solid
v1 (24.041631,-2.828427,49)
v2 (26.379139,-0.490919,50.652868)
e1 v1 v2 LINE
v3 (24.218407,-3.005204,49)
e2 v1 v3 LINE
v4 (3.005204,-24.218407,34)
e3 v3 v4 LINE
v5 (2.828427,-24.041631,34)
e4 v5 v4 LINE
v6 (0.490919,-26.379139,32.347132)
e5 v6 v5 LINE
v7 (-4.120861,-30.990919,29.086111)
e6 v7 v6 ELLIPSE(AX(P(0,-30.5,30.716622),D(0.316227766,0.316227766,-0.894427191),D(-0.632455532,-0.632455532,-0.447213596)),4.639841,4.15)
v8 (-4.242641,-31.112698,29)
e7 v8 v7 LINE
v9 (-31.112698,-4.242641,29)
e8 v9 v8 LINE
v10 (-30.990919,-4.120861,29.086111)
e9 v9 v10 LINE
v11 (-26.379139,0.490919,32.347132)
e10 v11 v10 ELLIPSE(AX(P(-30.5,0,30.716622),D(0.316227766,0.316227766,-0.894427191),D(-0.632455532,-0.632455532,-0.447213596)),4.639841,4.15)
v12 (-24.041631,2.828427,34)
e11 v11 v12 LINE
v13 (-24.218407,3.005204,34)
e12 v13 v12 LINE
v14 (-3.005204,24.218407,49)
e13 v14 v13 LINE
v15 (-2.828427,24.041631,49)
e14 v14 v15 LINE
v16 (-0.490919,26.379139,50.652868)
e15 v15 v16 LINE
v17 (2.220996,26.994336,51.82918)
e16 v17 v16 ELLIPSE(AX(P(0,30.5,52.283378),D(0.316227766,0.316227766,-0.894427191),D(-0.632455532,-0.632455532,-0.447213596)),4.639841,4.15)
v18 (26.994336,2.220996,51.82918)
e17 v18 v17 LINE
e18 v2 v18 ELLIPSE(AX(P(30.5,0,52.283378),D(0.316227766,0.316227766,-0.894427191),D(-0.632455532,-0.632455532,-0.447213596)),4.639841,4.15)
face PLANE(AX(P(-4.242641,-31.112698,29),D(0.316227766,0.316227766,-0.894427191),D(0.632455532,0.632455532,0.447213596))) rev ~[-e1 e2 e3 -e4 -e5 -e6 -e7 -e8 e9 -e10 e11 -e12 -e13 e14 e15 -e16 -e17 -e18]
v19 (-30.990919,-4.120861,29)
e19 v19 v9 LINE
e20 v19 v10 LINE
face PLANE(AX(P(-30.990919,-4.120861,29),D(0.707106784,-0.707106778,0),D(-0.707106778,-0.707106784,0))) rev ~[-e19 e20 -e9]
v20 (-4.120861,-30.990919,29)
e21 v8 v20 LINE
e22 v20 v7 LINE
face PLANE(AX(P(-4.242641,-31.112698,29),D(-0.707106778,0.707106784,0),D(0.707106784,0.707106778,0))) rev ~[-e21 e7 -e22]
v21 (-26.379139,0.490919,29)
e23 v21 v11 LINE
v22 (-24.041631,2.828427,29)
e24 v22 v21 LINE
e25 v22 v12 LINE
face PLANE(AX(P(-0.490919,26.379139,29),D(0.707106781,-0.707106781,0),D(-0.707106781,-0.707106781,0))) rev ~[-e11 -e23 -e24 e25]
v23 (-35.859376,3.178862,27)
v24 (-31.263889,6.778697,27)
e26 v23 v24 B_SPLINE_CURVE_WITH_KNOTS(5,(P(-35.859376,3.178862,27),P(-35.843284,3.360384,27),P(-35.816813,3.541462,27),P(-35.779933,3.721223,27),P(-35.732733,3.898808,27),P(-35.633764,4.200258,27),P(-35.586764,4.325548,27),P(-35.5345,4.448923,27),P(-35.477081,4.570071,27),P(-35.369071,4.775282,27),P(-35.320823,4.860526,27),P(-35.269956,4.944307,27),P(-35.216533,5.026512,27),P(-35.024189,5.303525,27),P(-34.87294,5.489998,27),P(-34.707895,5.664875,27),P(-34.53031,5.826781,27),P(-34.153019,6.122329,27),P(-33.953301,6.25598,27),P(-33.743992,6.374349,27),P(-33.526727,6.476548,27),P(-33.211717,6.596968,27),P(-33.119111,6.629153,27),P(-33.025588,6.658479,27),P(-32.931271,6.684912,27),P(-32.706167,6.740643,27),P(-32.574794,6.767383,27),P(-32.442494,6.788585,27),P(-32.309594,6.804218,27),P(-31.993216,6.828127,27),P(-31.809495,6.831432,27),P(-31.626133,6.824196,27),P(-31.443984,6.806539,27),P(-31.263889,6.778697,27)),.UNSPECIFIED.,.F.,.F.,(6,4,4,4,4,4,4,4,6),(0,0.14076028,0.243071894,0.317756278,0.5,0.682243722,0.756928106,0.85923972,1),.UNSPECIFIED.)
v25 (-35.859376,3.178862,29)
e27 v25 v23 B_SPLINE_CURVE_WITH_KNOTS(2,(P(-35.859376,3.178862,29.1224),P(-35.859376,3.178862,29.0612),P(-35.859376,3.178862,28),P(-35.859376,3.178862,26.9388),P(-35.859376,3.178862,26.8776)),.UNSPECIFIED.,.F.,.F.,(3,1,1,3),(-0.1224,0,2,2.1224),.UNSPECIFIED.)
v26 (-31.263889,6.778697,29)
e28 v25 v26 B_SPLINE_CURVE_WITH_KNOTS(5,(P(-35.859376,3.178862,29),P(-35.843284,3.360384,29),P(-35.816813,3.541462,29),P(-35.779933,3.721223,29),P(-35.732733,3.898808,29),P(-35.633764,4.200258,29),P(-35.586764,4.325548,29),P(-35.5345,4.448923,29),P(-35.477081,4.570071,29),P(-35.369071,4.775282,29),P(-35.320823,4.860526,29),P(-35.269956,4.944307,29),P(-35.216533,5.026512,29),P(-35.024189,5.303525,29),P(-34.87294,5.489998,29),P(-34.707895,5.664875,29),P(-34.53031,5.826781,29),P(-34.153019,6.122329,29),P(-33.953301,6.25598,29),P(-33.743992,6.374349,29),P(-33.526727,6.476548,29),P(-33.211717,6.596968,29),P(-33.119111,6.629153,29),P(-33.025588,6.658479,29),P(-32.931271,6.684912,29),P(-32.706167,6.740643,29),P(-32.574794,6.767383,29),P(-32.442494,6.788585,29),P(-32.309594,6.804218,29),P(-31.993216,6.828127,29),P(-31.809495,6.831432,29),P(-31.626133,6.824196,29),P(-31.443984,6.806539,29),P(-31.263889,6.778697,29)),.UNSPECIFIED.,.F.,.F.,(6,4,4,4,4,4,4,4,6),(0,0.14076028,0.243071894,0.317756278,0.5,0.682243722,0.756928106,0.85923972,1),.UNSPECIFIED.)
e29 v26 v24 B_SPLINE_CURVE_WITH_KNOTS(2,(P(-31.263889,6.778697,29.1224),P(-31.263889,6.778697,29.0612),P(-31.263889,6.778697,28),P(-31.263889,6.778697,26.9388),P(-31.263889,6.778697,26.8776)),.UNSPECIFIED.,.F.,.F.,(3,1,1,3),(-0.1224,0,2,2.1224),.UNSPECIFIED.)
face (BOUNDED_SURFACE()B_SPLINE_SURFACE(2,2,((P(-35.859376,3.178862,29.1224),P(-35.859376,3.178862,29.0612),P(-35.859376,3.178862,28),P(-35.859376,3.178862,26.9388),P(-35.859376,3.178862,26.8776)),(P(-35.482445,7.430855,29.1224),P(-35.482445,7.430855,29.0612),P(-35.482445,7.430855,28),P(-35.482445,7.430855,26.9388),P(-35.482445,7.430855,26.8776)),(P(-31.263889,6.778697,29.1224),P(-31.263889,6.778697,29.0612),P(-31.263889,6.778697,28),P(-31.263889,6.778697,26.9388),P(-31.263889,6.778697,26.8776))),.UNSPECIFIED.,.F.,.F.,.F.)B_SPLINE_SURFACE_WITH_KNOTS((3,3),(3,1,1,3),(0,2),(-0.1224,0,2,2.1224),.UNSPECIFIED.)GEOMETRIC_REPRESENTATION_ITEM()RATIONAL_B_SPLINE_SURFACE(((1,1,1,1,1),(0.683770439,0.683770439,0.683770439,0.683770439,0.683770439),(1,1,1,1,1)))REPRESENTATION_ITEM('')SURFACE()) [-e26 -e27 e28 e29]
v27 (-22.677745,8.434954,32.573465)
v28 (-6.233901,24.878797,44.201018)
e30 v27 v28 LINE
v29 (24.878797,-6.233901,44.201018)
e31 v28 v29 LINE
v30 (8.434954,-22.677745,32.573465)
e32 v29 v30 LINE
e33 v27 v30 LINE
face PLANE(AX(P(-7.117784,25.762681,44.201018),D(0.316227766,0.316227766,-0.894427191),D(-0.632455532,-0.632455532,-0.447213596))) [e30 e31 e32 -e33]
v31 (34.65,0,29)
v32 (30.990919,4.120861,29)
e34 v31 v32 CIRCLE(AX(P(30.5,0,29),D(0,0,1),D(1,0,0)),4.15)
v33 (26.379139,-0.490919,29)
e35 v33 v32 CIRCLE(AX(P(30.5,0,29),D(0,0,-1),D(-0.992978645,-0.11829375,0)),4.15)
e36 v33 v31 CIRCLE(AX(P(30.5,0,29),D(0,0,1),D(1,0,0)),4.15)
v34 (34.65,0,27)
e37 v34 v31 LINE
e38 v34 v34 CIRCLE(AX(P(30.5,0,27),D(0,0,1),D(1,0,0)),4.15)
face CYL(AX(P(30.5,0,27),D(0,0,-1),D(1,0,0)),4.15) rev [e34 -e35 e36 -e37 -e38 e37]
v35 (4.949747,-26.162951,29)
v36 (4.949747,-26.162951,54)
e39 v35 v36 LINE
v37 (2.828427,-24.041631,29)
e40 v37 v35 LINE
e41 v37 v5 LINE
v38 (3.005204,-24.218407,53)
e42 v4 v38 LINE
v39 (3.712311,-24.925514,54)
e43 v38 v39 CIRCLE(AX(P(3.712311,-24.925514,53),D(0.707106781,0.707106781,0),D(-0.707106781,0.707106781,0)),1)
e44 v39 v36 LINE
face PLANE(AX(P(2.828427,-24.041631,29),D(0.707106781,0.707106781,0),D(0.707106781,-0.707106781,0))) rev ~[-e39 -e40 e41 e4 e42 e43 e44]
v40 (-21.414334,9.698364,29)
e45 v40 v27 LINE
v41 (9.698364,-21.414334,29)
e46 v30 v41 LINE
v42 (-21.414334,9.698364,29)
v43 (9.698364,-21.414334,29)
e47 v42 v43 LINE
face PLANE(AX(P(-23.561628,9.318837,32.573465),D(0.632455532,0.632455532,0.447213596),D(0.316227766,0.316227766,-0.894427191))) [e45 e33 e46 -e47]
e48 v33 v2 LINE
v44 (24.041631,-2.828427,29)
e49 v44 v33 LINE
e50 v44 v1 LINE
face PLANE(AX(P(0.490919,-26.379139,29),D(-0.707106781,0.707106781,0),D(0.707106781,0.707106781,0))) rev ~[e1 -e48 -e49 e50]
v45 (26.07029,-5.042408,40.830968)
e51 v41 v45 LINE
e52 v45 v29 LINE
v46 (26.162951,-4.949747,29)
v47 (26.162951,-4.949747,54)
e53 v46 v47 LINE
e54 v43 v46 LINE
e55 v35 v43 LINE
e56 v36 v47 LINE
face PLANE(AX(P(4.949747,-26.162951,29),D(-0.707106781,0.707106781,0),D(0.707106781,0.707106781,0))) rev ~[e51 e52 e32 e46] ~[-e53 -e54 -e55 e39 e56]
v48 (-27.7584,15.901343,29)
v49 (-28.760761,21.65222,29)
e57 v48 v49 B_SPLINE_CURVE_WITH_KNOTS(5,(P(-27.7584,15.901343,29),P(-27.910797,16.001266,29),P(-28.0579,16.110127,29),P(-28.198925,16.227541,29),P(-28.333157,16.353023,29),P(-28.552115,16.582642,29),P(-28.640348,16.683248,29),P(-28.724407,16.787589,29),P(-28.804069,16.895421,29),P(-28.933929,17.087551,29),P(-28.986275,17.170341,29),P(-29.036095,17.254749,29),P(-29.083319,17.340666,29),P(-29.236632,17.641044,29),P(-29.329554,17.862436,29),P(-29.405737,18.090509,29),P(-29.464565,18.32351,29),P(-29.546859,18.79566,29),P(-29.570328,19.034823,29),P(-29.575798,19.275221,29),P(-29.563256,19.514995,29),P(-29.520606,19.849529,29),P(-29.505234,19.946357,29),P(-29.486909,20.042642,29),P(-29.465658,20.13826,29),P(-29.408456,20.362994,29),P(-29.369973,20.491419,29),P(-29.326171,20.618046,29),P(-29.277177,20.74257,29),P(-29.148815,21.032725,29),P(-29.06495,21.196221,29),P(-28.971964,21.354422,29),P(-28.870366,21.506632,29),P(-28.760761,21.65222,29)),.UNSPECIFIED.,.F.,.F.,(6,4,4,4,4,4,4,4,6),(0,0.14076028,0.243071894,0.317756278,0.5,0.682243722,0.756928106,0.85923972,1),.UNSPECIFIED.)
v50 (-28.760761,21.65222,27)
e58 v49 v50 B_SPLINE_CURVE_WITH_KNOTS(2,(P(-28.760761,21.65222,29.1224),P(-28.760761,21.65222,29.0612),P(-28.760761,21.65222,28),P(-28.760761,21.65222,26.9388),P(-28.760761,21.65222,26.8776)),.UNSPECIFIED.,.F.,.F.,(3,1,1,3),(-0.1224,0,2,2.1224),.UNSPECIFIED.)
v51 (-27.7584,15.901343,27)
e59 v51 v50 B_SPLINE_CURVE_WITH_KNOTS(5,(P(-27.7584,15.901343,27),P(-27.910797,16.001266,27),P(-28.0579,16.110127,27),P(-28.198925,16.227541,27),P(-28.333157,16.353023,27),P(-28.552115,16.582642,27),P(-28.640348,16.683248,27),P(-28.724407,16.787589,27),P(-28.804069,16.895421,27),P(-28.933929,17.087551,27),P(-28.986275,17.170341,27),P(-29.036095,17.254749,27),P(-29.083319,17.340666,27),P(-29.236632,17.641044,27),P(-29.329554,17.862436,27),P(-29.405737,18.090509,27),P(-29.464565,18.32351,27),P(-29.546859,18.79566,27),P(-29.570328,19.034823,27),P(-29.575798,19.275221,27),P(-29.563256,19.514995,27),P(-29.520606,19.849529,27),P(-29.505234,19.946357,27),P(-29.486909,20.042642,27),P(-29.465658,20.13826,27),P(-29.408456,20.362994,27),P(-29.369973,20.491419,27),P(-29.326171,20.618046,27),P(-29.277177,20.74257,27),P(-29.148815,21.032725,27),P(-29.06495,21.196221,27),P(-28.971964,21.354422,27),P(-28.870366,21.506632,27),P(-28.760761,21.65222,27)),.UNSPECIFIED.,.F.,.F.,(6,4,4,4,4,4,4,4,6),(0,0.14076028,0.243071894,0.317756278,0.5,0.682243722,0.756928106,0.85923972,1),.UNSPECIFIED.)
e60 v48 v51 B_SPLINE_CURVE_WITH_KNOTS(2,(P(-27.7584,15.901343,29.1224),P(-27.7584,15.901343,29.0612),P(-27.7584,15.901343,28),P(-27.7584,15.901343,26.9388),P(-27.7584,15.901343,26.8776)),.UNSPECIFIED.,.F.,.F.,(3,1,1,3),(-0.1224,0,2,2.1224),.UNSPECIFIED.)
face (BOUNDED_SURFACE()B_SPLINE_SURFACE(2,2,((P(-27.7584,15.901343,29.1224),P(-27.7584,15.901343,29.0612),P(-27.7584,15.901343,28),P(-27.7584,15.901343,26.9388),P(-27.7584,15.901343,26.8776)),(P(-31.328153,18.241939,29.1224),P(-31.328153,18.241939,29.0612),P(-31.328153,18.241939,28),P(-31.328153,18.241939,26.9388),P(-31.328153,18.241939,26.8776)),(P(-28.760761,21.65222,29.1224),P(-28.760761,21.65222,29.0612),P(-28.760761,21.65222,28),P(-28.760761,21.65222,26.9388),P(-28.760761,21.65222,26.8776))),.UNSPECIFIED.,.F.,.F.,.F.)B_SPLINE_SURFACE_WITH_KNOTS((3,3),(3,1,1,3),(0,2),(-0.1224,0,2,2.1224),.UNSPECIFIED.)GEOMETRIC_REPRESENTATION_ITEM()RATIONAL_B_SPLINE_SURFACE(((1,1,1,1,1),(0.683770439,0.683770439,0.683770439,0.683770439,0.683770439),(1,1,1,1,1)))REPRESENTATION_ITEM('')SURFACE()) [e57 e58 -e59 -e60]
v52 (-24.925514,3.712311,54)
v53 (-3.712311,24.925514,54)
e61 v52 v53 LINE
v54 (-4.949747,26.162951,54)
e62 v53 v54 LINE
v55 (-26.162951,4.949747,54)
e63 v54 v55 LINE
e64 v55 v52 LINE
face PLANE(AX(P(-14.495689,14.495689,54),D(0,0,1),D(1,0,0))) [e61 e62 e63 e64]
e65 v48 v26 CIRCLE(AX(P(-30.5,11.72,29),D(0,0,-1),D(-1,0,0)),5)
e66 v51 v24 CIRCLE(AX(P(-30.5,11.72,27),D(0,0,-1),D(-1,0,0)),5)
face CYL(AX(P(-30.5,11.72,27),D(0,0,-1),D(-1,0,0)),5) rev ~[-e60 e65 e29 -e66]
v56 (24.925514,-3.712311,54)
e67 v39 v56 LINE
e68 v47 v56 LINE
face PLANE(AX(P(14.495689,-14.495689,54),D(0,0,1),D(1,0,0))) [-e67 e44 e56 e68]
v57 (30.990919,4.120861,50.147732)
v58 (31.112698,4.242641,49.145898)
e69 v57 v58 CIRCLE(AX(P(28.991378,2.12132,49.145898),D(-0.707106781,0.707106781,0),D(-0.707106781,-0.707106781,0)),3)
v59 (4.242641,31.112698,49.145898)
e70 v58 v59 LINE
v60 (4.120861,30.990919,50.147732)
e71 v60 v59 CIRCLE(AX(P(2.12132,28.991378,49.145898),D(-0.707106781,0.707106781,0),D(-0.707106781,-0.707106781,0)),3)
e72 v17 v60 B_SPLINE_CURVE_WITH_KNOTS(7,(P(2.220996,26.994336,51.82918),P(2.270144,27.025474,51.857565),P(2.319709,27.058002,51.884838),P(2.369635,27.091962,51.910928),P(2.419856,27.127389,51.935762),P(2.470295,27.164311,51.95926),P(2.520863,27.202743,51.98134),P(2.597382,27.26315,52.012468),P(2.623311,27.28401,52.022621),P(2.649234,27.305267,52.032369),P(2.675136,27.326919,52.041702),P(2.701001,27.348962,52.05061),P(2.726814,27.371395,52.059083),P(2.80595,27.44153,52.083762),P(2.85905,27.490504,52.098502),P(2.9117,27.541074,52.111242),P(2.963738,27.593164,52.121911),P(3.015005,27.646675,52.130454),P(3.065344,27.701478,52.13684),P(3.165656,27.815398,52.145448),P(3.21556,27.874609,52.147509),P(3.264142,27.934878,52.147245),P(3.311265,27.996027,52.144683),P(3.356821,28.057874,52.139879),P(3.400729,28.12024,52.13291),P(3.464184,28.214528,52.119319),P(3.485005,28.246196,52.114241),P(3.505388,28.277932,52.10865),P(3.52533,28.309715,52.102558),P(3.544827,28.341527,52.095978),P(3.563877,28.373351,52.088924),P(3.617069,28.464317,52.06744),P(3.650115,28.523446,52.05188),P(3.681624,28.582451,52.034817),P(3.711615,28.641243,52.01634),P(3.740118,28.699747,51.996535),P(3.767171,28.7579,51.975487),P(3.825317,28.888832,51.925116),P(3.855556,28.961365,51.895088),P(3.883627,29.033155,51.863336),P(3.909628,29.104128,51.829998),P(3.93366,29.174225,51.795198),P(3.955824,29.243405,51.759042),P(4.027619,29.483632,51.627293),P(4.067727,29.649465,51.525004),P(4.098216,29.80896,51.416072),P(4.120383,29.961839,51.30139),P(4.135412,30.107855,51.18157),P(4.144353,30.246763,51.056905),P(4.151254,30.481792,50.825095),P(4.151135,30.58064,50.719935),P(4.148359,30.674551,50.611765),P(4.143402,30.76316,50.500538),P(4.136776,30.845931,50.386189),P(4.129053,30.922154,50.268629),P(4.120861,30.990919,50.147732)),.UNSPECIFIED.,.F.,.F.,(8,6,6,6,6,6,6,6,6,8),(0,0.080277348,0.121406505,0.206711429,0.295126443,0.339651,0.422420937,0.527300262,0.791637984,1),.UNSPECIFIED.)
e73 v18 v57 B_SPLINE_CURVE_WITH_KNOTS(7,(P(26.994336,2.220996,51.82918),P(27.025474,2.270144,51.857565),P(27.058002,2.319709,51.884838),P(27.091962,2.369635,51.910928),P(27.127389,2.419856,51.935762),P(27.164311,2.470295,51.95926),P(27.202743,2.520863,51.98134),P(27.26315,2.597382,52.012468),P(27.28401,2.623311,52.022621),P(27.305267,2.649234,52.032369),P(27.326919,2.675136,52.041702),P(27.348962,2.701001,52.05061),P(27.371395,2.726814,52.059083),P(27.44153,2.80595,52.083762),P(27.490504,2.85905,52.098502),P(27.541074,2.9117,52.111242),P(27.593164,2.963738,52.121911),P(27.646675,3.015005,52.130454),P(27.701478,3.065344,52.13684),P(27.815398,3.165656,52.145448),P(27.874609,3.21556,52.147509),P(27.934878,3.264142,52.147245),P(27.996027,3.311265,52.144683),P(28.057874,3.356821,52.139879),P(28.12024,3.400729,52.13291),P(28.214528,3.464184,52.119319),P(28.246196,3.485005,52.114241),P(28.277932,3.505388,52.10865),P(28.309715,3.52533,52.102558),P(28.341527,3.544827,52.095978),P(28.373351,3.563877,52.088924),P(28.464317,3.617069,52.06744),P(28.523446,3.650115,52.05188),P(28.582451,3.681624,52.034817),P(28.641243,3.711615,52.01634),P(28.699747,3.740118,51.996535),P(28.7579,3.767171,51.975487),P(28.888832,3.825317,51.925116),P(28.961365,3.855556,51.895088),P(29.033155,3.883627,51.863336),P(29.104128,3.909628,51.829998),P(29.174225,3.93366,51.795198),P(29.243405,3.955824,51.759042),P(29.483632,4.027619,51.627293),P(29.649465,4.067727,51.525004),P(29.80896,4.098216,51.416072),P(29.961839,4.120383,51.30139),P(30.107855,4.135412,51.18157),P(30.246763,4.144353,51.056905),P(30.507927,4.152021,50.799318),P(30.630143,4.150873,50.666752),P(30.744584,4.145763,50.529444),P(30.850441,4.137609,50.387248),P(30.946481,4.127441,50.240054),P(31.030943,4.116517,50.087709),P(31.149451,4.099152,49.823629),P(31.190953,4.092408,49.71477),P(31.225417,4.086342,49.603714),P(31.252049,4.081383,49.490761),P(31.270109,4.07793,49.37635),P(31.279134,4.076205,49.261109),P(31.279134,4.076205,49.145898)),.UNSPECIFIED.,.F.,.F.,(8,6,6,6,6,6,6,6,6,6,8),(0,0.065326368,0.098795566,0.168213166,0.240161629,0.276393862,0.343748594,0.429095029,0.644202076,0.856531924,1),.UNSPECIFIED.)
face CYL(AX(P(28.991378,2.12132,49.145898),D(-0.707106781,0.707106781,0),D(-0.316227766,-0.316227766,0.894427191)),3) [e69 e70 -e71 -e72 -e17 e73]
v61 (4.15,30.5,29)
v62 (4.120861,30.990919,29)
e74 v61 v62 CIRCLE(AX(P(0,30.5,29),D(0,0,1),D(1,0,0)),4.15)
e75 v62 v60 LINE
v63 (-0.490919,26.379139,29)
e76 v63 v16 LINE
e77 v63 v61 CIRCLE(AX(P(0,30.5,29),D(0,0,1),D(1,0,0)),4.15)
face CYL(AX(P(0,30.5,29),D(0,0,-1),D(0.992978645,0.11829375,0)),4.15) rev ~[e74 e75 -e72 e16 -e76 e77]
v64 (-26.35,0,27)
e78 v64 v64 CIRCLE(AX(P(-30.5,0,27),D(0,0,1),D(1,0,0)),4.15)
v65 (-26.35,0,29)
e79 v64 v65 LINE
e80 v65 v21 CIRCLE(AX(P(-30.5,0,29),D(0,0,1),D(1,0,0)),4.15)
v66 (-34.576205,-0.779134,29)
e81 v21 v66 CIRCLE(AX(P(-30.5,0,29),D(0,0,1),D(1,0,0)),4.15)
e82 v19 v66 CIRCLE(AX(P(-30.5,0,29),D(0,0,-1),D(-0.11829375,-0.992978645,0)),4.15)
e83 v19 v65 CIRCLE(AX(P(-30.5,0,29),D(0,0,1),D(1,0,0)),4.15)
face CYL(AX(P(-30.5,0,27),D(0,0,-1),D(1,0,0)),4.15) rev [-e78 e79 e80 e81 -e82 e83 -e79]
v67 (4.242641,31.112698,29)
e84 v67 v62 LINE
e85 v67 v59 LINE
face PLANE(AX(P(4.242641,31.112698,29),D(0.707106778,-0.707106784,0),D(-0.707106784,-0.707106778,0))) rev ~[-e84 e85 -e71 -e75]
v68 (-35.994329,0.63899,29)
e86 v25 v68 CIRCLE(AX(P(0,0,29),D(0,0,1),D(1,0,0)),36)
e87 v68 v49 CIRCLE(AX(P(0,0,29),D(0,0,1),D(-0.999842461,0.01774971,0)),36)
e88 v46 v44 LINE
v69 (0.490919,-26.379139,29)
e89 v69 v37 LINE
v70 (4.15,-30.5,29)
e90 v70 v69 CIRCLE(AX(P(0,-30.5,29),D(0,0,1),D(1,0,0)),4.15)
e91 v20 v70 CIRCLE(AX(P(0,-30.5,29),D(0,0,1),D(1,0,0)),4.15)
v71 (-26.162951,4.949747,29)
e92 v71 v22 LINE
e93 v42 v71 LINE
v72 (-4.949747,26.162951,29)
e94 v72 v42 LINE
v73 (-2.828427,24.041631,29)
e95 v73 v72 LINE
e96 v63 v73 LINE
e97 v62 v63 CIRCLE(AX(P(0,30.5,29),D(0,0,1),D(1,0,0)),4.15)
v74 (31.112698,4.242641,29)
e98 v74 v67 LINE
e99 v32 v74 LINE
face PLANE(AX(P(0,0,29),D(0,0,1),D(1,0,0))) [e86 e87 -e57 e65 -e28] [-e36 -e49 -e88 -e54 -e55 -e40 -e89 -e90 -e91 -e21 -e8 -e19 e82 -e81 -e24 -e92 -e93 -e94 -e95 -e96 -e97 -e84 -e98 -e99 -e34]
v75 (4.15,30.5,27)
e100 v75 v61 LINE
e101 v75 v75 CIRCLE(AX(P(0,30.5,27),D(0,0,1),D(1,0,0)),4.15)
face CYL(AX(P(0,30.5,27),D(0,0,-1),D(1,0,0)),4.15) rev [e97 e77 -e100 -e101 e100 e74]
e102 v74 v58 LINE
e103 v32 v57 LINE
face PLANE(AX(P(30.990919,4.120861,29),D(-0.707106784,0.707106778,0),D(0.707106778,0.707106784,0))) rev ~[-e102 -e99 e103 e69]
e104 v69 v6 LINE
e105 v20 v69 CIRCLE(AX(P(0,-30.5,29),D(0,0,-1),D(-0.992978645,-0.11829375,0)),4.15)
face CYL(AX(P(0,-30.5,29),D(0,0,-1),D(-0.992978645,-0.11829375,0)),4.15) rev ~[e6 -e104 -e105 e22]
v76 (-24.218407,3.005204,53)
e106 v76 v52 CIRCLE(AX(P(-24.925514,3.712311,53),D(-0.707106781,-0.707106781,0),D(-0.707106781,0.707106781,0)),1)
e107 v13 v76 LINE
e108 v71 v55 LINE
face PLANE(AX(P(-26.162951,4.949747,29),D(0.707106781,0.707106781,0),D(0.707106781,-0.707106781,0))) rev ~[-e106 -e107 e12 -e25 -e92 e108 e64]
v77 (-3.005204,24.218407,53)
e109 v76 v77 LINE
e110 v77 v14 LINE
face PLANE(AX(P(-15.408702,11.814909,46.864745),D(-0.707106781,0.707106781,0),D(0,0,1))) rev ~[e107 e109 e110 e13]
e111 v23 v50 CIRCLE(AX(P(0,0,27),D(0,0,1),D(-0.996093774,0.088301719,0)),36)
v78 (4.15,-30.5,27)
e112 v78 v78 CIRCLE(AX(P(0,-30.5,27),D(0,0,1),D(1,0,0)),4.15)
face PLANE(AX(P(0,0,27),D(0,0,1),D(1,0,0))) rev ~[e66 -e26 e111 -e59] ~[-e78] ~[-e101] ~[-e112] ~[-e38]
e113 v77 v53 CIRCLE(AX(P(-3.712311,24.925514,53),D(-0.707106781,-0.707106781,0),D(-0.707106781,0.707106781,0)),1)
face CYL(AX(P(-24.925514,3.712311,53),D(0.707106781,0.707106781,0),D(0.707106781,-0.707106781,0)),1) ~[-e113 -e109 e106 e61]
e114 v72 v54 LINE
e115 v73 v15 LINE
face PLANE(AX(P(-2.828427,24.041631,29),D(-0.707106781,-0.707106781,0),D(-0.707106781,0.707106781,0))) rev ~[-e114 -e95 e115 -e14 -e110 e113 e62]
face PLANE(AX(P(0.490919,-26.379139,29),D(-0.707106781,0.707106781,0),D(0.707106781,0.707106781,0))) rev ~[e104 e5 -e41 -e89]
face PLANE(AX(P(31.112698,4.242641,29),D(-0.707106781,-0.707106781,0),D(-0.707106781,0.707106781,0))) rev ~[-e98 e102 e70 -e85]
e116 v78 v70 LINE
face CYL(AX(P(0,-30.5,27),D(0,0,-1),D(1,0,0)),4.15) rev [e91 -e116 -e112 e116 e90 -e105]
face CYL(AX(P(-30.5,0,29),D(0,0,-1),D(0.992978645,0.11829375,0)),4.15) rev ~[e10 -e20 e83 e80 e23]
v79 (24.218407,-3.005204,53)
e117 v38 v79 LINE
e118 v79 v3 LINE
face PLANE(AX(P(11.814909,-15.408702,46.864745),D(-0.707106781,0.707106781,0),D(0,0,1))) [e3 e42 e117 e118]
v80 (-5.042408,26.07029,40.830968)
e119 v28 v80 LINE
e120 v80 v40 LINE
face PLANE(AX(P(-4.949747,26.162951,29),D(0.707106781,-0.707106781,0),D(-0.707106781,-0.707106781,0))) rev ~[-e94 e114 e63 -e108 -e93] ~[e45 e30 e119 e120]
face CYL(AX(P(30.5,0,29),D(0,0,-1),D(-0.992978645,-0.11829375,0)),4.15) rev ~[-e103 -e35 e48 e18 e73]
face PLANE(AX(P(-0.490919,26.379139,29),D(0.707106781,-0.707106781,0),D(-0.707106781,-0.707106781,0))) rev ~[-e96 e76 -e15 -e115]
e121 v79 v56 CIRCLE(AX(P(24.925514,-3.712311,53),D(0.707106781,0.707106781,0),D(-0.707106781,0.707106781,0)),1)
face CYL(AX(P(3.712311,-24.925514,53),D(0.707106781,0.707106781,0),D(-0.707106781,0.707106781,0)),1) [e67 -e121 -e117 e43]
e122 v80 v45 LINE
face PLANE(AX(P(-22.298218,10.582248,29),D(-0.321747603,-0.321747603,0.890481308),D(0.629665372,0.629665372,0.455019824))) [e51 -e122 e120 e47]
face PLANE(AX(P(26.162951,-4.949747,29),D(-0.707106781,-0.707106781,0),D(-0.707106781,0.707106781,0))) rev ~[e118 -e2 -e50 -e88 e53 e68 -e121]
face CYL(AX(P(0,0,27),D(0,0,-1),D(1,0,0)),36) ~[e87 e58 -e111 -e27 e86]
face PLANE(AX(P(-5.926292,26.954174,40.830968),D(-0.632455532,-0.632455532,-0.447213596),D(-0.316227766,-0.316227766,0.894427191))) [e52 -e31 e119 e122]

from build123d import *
from build123d.topology import SkipClean

# Parameters (mm, degrees)
SKETCH_1_R               = 36
SKETCH_1_R_2             = 4.15
EXTRUDE_1_DEPTH          = 2
SKETCH_2_W               = 45
SKETCH_2_H               = 45
EXTRUDE_2_DEPTH          = 25
SKETCH_3_R               = 36
SKETCH_3_R_2             = 4.15
EXTRUDE_3_DEPTH          = 2
EXTRUDE_4_DEPTH          = 25
CUT_EXTRUDE_1_DEPTH      = 50
EXTRUDE_6_DEPTH          = 25
CUT_EXTRUDE_3_DEPTH      = 38.25
CUT_EXTRUDE_3_DEPTH_BACK = 0.25
CUT_EXTRUDE_4_DEPTH      = 50
CUT_EXTRUDE_4_DEPTH_BACK = 4
SKETCH_20_W              = 45
SKETCH_20_H              = 45
EXTRUDE_7_DEPTH          = 13
FILLET_1_R               = 3
FILLET_2_R               = 1
SKETCH_22_R              = 36
CUT_EXTRUDE_6_DEPTH      = 40
SKETCH_24_R              = 5
CUT_EXTRUDE_7_DEPTH      = 2
FILLET_3_R               = 4


with BuildPart() as part:
    # 草图1 → 凸台-拉伸1 (new body)
    with BuildSketch(Plane.XY):
        Circle(SKETCH_1_R)
        with Locations((30.5, 0)):
            Circle(SKETCH_1_R_2, mode=Mode.SUBTRACT)
        with Locations((0, -30.5)):
            Circle(SKETCH_1_R_2, mode=Mode.SUBTRACT)
        with Locations((-30.5, 0)):
            Circle(SKETCH_1_R_2, mode=Mode.SUBTRACT)
        with Locations((0, 30.5)):
            Circle(SKETCH_1_R_2, mode=Mode.SUBTRACT)
    extrude(amount=EXTRUDE_1_DEPTH)

    # 草图2 → 凸台-拉伸2 (add)
    with BuildSketch(Plane.XY.offset(2)):
        Rectangle(SKETCH_2_W, SKETCH_2_H)
    extrude(amount=EXTRUDE_2_DEPTH)

    # 草图3 → 凸台-拉伸3 (add)
    with BuildSketch(Plane.XY.offset(27)):
        Circle(SKETCH_3_R)
        with Locations((0, 30.5)):
            Circle(SKETCH_3_R_2, mode=Mode.SUBTRACT)
        with Locations((0, -30.5)):
            Circle(SKETCH_3_R_2, mode=Mode.SUBTRACT)
        with Locations((-30.5, 0)):
            Circle(SKETCH_3_R_2, mode=Mode.SUBTRACT)
        with Locations((30.5, 0)):
            Circle(SKETCH_3_R_2, mode=Mode.SUBTRACT)
    extrude(amount=EXTRUDE_3_DEPTH)

    # 草图8 → 凸台-拉伸4 (add)
    with SkipClean():  # the faces are left unmerged after this step: merging them gives an invalid solid
        with BuildSketch(Plane.XY.offset(29)):
            with BuildLine():
                Line((-31.112698372, -4.242640687), (-4.242640687, -31.112698372))
                Line((-4.242640687, -31.112698372), (-4.120861375, -30.990919061))
                ThreePointArc((-4.120861375, -30.990919061), (-2.934493142, -27.565506858), (0.490919061, -26.379138625))
                Line((0.490919061, -26.379138625), (26.379138625, -0.490919061))
                ThreePointArc((26.379138625, -0.490919061), (27.565506858, 2.934493142), (30.990919061, 4.120861375))
                Line((30.990919061, 4.120861375), (31.112698372, 4.242640687))
                Line((31.112698372, 4.242640687), (4.242640687, 31.112698372))
                Line((4.242640687, 31.112698372), (4.120861375, 30.990919061))
                ThreePointArc((4.120861375, 30.990919061), (2.934493142, 27.565506858), (-0.490919061, 26.379138625))
                Line((-0.490919061, 26.379138625), (-26.379138625, 0.490919061))
                ThreePointArc((-26.379138625, 0.490919061), (-27.565506858, -2.934493142), (-30.990919061, -4.120861375))
                Line((-30.990919061, -4.120861375), (-31.112698372, -4.242640687))
            make_face()
        extrude(amount=EXTRUDE_4_DEPTH)

    # 草图12 → 切除-拉伸1 (cut)
    with BuildSketch(Plane(origin=(13.435028843, -13.435028843, 0), x_dir=(0, 0, -1), z_dir=(0.7071067811865477, -0.7071067811865474, 0))):
        Polygon((-54, 25), (-54, -25), (-29, -25), align=None)
    extrude(amount=-CUT_EXTRUDE_1_DEPTH, mode=Mode.SUBTRACT)

    # 草图16 → 凸台-拉伸6 (add)
    with SkipClean():  # the faces are left unmerged after this step: merging them gives an invalid solid
        with BuildSketch(Plane.XY.offset(29)):
            Polygon((-24.04163056, 2.828427125), (-2.828427125, 24.04163056), (-4.949747468, 26.162950904), (-26.162950904, 4.949747468), align=None)
            Polygon((24.04163056, -2.828427125), (2.828427125, -24.04163056), (4.949747468, -26.162950904), (26.162950904, -4.949747468), align=None)
        extrude(amount=EXTRUDE_6_DEPTH)

    # 草图17 → 切除-拉伸3 (cut, two sides: drawn at the far end of the back side and taken through both)
    with SkipClean():  # the faces are left unmerged after this step: merging them gives an invalid solid
        with BuildSketch(Plane(origin=(-13.435028843, 13.435028843, 0), x_dir=(0, 0, -1), z_dir=(0.7071067811865477, -0.7071067811865474, 0)).offset(-CUT_EXTRUDE_3_DEPTH_BACK)):
            Polygon((-49, 15), (-34, -15), (-54, -15), (-54, 15), align=None)
        extrude(amount=CUT_EXTRUDE_3_DEPTH + CUT_EXTRUDE_3_DEPTH_BACK, mode=Mode.SUBTRACT)

    # 草图18 → 切除-拉伸4 (cut, two sides: drawn at the far end of the back side and taken through both)
    with SkipClean():  # the faces are left unmerged after this step: merging them gives an invalid solid
        with BuildSketch(Plane(origin=(-13.611805538, 13.611805538, 0), x_dir=(0, 0, -1), z_dir=(0.7071067811865477, -0.7071067811865474, 0)).offset(-CUT_EXTRUDE_4_DEPTH_BACK)):
            Polygon((-44.201018115, 13.183932796), (-32.573464632, -10.07117417), (-29, -8.284441854), (-40.83096799, 14.868957859), align=None)
        extrude(amount=CUT_EXTRUDE_4_DEPTH + CUT_EXTRUDE_4_DEPTH_BACK, mode=Mode.SUBTRACT)

    # 草图20 → 凸台-拉伸7 (add)
    with SkipClean():  # the faces are left unmerged after this step: merging them gives an invalid solid
        with BuildSketch(Plane(origin=(0, 0, 0), x_dir=(-1, 0, 0), z_dir=(0, 0, -1))):
            Rectangle(SKETCH_20_W, SKETCH_20_H)
        extrude(amount=EXTRUDE_7_DEPTH)

    # 圆角1
    fillet_1_edges = [part.edges().sort_by_distance(p)[0] for p in [
        (17.67766953, 17.67766953, 54),
    ]]
    fillet(fillet_1_edges, radius=FILLET_1_R)

    # 圆角2
    fillet_2_edges = [part.edges().sort_by_distance(p)[0] for p in [
        (13.611805538, -13.611805538, 54),
        (-13.611805538, 13.611805538, 54),
    ]]
    fillet(fillet_2_edges, radius=FILLET_2_R)

    # 草图22 → 切除-拉伸6 (cut)
    with SkipClean():  # the faces are left unmerged after this step: merging them gives an invalid solid
        with BuildSketch(Plane(origin=(0, 0, -13), x_dir=(-1, 0, 0), z_dir=(0, 0, -1))):
            Circle(SKETCH_22_R)
        extrude(amount=-CUT_EXTRUDE_6_DEPTH, mode=Mode.SUBTRACT)

    # 草图24 → 切除-拉伸7 (cut)
    with SkipClean():  # the faces are left unmerged after this step: merging them gives an invalid solid
        with BuildSketch(Plane(origin=(0, 0, 27), x_dir=(-1, 0, 0), z_dir=(0, 0, -1))):
            with Locations((30.5, 11.72)):
                Circle(SKETCH_24_R)
        extrude(amount=-CUT_EXTRUDE_7_DEPTH, mode=Mode.SUBTRACT)

    # 圆角3
    fillet_3_edges = [part.edges().sort_by_distance(p)[0] for p in [
        (-34.808921563, 9.183625626, 28),
        (-32.001676968, 16.489168301, 28),
    ]]
    fillet(fillet_3_edges, radius=FILLET_3_R)


solid = part.part
